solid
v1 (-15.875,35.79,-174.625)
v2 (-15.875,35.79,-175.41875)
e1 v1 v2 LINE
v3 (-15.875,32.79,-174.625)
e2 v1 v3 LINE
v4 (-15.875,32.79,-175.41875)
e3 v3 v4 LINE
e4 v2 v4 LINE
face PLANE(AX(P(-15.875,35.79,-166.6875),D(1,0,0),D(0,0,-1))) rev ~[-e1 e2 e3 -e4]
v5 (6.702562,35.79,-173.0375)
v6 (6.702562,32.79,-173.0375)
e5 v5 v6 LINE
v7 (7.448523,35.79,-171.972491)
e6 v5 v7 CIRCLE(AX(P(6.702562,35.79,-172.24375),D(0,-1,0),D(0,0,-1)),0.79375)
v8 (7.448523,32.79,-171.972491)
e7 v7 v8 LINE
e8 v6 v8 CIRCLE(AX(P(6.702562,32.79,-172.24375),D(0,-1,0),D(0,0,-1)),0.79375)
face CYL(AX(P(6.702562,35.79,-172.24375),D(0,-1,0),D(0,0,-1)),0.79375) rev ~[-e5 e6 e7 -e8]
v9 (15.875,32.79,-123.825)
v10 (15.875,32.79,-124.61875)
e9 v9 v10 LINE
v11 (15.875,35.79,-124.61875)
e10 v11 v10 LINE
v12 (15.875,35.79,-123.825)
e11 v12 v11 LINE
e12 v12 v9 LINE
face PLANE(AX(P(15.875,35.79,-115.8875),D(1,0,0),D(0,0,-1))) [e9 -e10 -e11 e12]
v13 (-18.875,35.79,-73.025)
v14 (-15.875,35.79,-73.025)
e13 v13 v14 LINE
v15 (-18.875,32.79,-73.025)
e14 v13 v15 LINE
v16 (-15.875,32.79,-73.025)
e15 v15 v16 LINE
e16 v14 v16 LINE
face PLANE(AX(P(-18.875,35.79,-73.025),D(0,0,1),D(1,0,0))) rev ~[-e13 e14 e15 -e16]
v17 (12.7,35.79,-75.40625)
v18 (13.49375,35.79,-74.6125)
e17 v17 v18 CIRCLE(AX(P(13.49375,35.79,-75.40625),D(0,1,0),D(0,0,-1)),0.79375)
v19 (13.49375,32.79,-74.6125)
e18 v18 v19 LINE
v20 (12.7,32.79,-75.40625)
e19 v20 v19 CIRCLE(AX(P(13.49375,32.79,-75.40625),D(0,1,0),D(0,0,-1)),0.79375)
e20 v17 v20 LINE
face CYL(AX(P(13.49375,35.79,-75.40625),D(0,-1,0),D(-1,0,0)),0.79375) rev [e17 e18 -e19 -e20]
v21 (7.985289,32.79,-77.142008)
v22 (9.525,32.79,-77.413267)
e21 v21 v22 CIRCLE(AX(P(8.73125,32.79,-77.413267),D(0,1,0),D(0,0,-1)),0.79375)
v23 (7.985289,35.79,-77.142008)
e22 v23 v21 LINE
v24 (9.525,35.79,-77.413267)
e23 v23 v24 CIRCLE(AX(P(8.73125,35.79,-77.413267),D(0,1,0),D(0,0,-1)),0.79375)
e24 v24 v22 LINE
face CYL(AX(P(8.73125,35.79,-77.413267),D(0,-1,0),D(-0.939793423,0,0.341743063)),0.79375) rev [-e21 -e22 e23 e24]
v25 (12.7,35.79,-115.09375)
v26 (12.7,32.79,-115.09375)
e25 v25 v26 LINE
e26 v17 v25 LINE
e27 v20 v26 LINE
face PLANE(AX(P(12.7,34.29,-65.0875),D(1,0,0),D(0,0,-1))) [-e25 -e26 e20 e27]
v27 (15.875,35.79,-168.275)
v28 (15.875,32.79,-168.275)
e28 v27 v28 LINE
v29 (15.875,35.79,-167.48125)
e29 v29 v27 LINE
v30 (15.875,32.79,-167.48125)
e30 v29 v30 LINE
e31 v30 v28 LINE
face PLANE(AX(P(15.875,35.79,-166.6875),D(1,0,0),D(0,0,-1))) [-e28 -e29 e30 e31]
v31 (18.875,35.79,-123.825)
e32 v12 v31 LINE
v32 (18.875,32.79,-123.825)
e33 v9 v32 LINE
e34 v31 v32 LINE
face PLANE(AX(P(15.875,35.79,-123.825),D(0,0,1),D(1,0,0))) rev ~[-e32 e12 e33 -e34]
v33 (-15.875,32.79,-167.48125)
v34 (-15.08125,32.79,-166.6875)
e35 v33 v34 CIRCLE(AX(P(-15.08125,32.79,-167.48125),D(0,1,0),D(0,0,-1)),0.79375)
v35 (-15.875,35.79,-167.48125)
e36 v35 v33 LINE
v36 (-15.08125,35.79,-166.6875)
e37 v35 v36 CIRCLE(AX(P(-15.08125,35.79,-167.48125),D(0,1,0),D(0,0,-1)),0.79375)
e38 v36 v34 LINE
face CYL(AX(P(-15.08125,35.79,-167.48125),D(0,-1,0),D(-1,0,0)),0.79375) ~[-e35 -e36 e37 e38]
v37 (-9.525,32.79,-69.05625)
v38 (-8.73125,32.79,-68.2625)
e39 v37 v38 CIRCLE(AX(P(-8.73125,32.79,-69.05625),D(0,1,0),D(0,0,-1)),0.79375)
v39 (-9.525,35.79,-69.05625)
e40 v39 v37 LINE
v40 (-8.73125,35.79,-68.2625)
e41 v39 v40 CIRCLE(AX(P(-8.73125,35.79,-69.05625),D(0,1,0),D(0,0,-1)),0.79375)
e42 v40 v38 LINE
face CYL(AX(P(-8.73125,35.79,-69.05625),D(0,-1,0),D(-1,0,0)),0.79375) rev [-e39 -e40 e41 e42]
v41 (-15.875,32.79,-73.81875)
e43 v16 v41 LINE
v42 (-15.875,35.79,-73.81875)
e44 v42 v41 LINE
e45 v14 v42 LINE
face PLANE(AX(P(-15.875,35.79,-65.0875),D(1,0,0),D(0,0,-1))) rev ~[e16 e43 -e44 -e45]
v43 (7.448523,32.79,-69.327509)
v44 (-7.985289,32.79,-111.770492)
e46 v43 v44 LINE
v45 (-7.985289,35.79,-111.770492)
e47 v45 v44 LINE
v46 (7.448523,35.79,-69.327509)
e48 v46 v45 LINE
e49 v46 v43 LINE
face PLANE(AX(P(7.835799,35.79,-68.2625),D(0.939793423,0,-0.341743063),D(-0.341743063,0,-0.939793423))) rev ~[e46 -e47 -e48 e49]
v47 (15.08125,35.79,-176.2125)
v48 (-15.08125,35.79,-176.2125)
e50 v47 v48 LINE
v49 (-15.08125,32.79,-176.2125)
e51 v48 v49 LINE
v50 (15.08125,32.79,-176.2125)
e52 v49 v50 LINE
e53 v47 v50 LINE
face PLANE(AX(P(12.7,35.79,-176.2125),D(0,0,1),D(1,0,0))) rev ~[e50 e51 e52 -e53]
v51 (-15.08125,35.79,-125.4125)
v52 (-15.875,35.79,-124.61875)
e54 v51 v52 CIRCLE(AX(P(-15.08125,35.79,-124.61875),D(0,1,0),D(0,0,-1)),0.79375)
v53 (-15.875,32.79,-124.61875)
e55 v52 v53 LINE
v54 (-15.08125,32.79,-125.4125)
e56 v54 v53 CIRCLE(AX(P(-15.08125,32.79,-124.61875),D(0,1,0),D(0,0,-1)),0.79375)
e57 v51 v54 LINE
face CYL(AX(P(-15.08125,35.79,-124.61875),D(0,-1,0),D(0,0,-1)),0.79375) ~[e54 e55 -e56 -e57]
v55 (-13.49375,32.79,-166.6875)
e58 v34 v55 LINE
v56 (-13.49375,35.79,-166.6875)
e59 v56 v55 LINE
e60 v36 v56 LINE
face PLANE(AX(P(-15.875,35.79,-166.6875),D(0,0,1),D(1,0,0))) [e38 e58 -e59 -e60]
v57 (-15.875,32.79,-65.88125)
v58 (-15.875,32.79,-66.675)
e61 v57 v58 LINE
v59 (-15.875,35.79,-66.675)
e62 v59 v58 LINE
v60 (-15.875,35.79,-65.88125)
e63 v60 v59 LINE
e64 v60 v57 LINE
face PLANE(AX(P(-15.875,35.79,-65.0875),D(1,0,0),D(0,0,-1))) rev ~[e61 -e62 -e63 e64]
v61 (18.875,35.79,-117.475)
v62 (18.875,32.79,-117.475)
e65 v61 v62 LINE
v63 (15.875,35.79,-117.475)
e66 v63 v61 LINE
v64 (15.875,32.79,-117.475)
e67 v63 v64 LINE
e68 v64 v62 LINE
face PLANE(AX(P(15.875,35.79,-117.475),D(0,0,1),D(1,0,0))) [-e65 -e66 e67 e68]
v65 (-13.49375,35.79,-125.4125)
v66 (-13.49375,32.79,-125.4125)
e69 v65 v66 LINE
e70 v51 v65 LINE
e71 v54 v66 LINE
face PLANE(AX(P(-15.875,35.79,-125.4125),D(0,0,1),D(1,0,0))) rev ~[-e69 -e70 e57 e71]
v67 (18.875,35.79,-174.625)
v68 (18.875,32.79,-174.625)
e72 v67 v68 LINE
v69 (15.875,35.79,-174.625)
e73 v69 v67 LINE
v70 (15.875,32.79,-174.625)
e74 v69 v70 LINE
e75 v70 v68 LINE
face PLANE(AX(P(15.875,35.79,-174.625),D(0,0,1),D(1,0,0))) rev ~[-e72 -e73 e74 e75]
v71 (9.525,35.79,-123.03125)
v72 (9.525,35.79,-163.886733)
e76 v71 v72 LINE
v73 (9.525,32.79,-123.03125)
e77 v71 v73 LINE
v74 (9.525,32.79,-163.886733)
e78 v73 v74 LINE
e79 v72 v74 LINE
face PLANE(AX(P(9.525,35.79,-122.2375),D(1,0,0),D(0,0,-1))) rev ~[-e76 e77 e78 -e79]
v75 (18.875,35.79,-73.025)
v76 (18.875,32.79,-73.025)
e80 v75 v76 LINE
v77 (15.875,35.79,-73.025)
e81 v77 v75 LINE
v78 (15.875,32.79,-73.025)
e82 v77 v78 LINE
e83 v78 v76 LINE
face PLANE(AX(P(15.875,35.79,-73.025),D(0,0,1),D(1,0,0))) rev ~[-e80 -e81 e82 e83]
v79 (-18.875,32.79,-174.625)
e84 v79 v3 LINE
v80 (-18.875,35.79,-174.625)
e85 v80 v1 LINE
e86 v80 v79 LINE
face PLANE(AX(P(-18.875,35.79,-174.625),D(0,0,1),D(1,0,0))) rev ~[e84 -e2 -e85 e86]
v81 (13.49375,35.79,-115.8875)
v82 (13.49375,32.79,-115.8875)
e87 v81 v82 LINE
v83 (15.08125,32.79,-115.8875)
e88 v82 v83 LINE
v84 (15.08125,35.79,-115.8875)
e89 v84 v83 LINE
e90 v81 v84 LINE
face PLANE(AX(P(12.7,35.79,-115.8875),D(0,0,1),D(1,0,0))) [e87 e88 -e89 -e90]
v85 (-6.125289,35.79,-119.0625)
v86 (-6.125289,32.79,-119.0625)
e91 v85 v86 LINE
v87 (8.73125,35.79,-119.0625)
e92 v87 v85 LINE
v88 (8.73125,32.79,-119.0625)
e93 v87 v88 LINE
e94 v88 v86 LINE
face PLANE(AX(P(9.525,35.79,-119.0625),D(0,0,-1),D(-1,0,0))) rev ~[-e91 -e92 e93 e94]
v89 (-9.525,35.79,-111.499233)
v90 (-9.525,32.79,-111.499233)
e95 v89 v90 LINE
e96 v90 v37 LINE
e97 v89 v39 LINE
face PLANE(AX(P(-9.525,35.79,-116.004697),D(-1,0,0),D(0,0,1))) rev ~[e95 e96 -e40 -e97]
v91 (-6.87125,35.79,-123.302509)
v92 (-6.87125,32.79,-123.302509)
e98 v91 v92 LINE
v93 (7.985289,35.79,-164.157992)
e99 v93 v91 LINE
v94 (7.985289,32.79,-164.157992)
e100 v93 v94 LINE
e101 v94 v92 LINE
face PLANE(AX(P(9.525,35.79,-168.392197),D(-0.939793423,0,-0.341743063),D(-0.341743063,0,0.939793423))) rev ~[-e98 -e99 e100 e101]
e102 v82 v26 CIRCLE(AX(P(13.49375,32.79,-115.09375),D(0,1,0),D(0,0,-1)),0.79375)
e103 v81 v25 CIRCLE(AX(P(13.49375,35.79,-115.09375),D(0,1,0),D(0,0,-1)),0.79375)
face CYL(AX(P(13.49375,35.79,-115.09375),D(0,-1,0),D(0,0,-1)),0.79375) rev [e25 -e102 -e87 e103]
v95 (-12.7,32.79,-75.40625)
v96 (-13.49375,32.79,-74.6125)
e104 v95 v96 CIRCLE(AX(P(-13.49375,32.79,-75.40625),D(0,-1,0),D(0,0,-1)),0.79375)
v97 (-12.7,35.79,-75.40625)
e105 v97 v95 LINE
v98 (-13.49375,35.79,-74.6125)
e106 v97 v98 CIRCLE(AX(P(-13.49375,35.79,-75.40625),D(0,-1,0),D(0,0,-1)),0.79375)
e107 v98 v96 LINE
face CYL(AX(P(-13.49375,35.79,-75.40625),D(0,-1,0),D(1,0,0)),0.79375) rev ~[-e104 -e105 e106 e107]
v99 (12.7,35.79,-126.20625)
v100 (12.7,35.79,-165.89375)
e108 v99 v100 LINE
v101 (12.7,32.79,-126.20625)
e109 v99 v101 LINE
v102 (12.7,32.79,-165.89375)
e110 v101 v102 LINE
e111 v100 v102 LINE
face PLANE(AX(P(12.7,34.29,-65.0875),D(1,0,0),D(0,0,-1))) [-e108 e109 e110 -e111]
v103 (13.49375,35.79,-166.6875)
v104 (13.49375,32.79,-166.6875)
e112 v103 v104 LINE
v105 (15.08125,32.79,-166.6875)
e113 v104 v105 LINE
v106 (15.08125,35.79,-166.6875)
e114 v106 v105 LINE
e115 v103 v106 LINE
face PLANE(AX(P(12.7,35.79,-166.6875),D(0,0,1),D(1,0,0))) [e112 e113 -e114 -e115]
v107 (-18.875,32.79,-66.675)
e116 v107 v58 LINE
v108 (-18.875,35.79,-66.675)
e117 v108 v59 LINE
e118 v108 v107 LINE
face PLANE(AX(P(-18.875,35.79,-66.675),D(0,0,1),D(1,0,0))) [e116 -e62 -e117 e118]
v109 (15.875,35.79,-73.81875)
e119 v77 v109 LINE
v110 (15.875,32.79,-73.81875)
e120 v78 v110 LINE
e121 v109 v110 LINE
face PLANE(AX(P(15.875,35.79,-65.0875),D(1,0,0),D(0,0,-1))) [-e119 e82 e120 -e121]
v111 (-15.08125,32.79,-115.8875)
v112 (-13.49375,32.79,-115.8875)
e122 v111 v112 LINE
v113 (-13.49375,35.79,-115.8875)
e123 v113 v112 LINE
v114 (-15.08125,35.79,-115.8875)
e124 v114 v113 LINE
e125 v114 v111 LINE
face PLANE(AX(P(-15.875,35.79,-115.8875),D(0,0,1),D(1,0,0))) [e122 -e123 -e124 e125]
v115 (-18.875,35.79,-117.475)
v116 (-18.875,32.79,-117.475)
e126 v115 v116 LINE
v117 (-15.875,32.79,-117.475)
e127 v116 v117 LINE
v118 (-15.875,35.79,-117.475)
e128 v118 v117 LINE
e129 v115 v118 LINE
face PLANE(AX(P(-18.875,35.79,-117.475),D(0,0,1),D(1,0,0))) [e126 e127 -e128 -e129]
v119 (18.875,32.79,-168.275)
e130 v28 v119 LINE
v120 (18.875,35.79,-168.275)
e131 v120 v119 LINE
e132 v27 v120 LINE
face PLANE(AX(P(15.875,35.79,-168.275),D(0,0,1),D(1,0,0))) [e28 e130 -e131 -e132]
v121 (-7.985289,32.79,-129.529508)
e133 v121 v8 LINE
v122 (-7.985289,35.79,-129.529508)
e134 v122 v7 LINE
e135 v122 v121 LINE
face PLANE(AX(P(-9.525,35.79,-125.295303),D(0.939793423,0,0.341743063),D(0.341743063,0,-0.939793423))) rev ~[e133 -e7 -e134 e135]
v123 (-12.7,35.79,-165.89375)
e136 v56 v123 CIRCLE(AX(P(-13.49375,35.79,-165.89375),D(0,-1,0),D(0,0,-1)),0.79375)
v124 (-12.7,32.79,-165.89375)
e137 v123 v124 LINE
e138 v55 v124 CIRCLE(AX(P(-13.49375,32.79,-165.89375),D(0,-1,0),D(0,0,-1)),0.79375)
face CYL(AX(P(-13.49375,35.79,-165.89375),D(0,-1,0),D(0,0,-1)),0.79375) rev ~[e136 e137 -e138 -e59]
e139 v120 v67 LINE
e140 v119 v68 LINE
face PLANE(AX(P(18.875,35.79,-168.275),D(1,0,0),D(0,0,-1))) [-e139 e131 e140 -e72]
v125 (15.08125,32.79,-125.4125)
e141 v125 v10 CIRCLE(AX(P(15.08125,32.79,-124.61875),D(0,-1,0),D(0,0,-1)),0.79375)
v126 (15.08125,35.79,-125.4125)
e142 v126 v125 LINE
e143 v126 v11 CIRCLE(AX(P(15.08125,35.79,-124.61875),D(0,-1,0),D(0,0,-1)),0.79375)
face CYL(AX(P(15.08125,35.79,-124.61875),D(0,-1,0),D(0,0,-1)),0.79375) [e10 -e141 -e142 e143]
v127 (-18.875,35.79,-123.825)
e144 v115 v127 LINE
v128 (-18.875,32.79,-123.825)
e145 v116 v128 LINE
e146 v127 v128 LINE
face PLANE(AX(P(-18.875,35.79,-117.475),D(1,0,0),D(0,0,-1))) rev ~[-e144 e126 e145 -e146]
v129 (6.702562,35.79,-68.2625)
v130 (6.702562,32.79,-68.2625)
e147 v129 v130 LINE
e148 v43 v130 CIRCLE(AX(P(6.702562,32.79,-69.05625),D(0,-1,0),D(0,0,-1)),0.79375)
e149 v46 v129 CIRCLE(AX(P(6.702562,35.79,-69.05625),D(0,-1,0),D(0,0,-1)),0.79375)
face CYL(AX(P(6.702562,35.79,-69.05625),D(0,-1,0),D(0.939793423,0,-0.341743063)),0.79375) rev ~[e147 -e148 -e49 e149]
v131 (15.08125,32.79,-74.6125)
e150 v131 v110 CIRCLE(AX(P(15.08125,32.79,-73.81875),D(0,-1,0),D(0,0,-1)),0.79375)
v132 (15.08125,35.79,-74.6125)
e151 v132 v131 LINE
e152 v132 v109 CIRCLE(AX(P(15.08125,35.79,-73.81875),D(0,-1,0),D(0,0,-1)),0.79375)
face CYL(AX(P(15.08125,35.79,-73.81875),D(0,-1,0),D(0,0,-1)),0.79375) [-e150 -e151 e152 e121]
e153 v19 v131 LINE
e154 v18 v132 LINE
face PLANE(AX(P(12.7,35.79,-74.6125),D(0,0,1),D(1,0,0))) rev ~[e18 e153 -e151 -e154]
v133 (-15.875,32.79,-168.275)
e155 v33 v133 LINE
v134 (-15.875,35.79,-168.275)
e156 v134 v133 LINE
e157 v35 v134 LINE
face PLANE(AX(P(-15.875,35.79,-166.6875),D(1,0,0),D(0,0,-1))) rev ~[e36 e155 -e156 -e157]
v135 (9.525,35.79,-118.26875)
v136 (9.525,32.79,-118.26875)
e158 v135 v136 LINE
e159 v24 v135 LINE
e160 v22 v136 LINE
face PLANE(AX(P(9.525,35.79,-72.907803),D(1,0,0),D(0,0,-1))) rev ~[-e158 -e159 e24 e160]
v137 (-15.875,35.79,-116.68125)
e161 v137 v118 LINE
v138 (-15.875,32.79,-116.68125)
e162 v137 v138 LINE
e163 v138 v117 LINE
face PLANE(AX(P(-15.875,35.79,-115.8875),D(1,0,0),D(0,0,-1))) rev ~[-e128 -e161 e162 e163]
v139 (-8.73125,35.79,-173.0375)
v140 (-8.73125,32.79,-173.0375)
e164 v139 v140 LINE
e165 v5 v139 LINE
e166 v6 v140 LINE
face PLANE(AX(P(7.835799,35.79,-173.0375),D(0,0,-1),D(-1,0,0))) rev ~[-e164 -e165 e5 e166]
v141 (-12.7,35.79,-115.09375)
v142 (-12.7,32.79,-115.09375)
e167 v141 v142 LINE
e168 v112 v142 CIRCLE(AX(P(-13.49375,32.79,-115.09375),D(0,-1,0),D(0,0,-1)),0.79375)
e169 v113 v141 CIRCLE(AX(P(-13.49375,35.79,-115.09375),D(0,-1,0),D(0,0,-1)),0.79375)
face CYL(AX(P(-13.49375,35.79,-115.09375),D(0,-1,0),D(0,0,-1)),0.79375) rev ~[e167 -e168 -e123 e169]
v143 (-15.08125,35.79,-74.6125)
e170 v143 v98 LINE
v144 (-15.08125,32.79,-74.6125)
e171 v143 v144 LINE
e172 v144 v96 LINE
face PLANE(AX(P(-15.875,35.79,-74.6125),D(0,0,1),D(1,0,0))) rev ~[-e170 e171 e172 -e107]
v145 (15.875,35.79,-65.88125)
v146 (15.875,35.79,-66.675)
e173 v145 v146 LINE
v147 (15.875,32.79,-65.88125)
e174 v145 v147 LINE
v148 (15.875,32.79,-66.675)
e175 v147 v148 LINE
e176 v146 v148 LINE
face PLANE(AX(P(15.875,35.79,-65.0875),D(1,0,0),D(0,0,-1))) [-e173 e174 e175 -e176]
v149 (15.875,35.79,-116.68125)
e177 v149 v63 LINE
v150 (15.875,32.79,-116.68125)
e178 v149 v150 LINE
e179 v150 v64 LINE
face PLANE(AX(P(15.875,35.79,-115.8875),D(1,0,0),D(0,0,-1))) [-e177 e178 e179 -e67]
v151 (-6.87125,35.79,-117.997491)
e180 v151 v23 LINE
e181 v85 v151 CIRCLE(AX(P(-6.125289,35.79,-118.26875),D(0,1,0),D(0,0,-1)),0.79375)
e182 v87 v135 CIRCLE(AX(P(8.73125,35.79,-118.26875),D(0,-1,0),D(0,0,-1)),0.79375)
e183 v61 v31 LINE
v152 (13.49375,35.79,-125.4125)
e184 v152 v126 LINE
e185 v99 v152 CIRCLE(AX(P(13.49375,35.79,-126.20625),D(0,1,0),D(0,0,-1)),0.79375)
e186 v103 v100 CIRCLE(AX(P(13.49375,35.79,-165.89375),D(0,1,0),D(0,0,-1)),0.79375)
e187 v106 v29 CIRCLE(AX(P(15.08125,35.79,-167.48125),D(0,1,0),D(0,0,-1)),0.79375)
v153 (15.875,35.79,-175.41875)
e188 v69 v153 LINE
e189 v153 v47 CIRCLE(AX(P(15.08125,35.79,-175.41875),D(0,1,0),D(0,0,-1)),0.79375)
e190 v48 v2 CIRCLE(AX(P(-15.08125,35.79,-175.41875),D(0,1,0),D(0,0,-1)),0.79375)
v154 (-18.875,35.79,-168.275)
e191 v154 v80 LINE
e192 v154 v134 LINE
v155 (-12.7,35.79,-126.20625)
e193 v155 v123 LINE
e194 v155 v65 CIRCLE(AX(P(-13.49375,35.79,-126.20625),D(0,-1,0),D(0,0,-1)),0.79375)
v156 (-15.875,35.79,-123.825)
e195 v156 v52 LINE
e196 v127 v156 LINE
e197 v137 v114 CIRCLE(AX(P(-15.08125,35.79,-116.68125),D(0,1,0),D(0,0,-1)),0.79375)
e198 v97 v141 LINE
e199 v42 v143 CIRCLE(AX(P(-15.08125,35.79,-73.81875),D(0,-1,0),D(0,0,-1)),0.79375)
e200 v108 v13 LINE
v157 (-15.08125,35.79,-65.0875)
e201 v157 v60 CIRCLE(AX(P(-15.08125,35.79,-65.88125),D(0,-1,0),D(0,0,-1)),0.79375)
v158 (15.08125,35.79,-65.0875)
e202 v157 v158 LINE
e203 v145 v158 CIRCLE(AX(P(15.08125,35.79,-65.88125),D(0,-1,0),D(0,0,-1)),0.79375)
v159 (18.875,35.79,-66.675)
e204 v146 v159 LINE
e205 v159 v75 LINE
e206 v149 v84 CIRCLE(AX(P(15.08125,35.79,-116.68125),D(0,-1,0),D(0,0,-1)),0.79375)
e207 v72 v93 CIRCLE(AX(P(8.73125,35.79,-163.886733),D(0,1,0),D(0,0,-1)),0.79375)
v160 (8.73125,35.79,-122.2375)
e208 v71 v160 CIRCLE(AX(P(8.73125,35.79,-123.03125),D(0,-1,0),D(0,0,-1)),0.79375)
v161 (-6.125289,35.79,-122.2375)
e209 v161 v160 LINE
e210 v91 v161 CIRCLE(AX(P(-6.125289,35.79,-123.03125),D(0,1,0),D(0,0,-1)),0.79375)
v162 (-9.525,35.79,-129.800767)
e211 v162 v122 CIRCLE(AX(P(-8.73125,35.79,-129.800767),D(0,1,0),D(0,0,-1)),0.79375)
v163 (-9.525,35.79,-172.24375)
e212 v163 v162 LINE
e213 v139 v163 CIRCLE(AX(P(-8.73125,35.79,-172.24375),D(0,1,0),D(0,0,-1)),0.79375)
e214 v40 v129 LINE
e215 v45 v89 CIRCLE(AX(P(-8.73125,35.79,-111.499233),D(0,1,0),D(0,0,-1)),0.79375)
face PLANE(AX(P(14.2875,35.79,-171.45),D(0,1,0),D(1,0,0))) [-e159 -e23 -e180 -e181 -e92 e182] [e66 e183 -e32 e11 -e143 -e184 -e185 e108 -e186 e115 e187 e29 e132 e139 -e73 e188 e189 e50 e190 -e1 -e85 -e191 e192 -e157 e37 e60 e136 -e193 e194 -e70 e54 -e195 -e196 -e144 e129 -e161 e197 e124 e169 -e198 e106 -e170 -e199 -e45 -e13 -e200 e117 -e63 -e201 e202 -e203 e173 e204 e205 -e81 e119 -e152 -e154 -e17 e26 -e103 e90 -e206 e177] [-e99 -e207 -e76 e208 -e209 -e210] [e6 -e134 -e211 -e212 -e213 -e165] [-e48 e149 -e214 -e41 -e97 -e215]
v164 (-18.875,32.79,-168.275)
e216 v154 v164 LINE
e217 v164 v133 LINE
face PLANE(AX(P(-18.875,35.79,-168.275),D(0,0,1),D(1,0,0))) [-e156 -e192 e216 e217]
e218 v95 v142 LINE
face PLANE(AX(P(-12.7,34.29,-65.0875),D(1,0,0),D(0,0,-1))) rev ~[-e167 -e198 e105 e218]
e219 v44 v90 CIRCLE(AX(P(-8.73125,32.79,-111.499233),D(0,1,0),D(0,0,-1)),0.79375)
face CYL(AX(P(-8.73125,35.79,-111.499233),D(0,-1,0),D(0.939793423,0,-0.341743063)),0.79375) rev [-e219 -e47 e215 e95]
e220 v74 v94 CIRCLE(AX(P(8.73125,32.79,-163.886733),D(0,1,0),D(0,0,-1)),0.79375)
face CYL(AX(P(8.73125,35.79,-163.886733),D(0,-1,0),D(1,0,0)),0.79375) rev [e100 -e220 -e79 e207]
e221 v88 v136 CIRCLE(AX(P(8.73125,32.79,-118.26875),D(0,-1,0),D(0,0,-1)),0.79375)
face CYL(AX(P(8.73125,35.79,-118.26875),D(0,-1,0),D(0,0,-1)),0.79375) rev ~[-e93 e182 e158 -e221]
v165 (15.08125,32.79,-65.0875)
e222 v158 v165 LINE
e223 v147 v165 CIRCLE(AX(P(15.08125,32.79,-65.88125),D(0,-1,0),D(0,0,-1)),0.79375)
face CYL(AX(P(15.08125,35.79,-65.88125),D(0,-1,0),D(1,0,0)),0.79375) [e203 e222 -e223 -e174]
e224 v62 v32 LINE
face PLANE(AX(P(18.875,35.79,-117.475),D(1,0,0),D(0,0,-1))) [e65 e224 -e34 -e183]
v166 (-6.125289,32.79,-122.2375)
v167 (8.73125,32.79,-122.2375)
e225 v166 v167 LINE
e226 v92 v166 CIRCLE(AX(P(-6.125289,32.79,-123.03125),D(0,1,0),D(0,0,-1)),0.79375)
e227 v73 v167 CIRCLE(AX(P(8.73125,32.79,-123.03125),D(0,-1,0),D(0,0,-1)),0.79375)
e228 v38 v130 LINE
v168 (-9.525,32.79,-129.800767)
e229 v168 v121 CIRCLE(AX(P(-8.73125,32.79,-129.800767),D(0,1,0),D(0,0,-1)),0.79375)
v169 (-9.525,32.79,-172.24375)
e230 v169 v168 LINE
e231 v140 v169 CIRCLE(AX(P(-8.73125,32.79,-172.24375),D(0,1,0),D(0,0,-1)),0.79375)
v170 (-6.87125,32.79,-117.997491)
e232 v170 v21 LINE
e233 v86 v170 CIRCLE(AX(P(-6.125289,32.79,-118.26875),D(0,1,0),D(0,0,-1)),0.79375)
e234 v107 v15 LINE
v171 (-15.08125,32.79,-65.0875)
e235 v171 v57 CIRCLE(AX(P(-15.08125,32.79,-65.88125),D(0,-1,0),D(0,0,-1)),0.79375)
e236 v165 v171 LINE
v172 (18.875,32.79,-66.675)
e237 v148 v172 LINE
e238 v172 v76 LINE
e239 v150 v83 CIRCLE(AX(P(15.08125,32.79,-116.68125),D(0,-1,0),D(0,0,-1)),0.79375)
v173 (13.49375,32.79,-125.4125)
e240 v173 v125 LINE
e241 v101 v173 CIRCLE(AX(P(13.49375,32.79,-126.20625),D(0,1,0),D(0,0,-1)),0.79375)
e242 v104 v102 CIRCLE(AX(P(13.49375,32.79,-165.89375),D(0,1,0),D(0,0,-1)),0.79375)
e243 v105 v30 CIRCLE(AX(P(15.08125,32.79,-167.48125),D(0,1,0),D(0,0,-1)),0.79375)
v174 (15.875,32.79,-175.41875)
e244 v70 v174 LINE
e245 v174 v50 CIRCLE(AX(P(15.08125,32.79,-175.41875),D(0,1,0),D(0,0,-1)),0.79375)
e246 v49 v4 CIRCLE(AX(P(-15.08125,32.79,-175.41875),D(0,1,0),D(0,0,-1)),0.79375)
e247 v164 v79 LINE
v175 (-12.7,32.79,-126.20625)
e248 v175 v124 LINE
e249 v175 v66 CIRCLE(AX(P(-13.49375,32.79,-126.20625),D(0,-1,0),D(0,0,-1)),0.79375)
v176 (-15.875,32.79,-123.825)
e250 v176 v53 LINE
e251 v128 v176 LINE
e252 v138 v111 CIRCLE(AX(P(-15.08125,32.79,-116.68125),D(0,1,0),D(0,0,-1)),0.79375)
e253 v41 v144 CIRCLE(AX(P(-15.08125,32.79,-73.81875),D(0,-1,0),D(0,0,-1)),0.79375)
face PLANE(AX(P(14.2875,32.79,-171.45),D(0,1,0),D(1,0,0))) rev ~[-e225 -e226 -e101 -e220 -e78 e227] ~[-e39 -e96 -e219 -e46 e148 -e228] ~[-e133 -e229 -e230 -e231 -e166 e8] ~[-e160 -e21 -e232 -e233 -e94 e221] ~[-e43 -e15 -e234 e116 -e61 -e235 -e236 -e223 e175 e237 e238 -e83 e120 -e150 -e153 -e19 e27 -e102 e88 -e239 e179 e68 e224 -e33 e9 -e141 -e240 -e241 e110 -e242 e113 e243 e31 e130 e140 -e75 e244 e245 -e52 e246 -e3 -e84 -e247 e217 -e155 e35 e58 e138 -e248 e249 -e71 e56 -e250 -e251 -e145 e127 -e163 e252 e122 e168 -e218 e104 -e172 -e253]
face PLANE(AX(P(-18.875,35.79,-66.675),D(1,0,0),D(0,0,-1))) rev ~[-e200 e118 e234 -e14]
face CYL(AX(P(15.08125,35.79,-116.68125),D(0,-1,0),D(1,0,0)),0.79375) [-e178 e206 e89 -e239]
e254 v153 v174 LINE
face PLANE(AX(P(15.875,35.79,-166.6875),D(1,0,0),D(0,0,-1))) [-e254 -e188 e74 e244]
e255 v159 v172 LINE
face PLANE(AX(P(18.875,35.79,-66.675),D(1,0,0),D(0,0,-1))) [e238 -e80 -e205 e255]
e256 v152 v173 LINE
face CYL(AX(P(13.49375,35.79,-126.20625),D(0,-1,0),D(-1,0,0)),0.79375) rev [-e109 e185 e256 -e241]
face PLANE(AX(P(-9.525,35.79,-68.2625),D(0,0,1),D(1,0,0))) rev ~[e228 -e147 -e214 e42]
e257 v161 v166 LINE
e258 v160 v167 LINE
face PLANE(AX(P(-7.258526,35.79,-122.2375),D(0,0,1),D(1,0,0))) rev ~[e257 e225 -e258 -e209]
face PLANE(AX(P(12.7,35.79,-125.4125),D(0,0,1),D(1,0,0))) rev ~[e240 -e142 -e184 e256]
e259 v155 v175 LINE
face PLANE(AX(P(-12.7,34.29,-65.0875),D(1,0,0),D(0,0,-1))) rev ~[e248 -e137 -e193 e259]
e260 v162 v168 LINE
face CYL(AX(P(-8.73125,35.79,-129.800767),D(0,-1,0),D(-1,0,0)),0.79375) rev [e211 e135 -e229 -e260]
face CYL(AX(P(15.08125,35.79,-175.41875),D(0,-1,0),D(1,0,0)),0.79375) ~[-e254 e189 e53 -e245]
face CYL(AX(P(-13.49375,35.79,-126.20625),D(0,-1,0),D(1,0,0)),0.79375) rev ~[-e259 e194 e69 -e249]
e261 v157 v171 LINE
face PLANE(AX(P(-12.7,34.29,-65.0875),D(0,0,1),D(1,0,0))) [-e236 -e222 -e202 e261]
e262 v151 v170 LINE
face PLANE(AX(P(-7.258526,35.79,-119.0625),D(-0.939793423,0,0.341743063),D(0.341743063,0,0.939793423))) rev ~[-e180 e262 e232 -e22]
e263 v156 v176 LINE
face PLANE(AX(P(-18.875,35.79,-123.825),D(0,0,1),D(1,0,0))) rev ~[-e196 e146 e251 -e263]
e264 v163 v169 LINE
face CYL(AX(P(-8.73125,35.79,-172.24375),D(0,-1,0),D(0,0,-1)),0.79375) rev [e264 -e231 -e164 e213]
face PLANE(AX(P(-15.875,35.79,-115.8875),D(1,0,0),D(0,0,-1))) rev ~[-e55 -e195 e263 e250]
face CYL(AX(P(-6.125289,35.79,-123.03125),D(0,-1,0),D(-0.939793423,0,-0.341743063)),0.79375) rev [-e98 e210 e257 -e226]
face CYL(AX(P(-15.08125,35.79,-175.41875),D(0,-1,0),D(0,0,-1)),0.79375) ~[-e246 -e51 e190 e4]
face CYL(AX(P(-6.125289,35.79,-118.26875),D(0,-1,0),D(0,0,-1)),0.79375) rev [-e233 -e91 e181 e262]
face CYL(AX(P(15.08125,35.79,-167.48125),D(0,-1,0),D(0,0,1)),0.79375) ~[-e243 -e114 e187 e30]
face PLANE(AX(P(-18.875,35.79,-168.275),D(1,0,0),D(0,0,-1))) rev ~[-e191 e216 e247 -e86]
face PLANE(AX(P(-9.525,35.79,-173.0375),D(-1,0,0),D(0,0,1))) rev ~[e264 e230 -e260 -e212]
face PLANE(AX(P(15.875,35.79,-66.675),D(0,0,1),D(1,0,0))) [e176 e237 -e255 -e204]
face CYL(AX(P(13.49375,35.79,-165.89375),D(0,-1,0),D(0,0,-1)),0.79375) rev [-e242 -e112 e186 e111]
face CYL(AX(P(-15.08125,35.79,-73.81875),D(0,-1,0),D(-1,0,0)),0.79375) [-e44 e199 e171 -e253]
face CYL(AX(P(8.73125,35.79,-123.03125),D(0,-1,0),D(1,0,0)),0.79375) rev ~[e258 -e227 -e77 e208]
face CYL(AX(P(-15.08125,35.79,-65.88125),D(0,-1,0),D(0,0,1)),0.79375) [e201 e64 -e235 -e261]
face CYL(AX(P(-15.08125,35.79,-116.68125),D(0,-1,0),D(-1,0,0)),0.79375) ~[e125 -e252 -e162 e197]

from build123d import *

# Parameters (mm, degrees)
SKETCH1_W           = 25.4
SKETCH1_H           = 111.125
BOSS_EXTRUDE1_DEPTH = 1.5
SKETCH2_W           = 3.175
SKETCH2_H           = 9.525
BOSS_EXTRUDE2_DEPTH = 3
CUT_EXTRUDE1_DEPTH  = 3
FILLET1_R           = 0.79375
SKETCH5_W           = 3
SKETCH5_H           = 6.35
BOSS_EXTRUDE3_DEPTH = 3


with BuildPart() as part:
    # Sketch1 → Boss-Extrude1 (new, symmetric)
    with BuildSketch(Plane(origin=(0, 34.29, 0), x_dir=(1, 0, 0), z_dir=(0, 1, 0))):
        with Locations((0, 120.65)):
            Rectangle(SKETCH1_W, SKETCH1_H)
    extrude(amount=BOSS_EXTRUDE1_DEPTH, both=True)

    # Sketch2 → Boss-Extrude2 (add)
    with BuildSketch(Plane(origin=(0, 35.79, 0), x_dir=(1, 0, 0), z_dir=(0, 1, 0))):
        with Locations((14.2875, 171.45)):
            Rectangle(SKETCH2_W, SKETCH2_H)
        with Locations((-14.2875, 171.45)):
            Rectangle(SKETCH2_W, SKETCH2_H)
        with Locations((14.2875, 120.65)):
            Rectangle(SKETCH2_W, SKETCH2_H)
        with Locations((-14.2875, 120.65)):
            Rectangle(SKETCH2_W, SKETCH2_H)
        with Locations((14.2875, 69.85)):
            Rectangle(SKETCH2_W, SKETCH2_H)
        with Locations((-14.2875, 69.85)):
            Rectangle(SKETCH2_W, SKETCH2_H)
    extrude(amount=-BOSS_EXTRUDE2_DEPTH)

    # Sketch4 → Cut-Extrude1 (cut)
    with BuildSketch(Plane(origin=(0, 35.79, 0), x_dir=(1, 0, 0), z_dir=(0, 1, 0))):
        Polygon((7.83579899, 173.0375), (-9.525, 173.0375), (-9.525, 125.295302777), align=None)
        Polygon((9.525, 122.2375), (9.525, 168.392197223), (-7.258526263, 122.2375), align=None)
        Polygon((9.525, 119.0625), (-7.258526263, 119.0625), (9.525, 72.907802777), align=None)
        Polygon((7.83579899, 68.2625), (-9.525, 116.004697223), (-9.525, 68.2625), align=None)
    extrude(amount=-CUT_EXTRUDE1_DEPTH, mode=Mode.SUBTRACT)

    # Fillet1
    fillet1_edges = [part.edges().sort_by_distance(p)[0] for p in [
        (-7.258526263, 34.29, -122.2375),
        (9.525, 34.29, -168.392197223),
        (9.525, 34.29, -122.2375),
        (9.525, 34.29, -72.907802777),
        (-7.258526263, 34.29, -119.0625),
        (9.525, 34.29, -119.0625),
        (7.83579899, 34.29, -68.2625),
        (-9.525, 34.29, -68.2625),
        (-9.525, 34.29, -116.004697223),
        (-9.525, 34.29, -125.295302777),
        (-9.525, 34.29, -173.0375),
        (7.83579899, 34.29, -173.0375),
        (15.875, 34.29, -65.0875),
        (15.875, 34.29, -74.6125),
        (12.7, 34.29, -74.6125),
        (-12.7, 34.29, -115.8875),
        (-12.7, 34.29, -125.4125),
        (-15.875, 34.29, -125.4125),
        (-15.875, 34.29, -115.8875),
        (15.875, 34.29, -115.8875),
        (15.875, 34.29, -125.4125),
        (12.7, 34.29, -125.4125),
        (12.7, 34.29, -115.8875),
        (-12.7, 34.29, -166.6875),
        (-15.875, 34.29, -176.2125),
        (-15.875, 34.29, -166.6875),
        (-12.7, 34.29, -74.6125),
        (-15.875, 34.29, -74.6125),
        (-15.875, 34.29, -65.0875),
        (15.875, 34.29, -166.6875),
        (15.875, 34.29, -176.2125),
        (12.7, 34.29, -166.6875),
    ]]
    fillet(fillet1_edges, radius=FILLET1_R)

    # Sketch5 → Boss-Extrude3 (add)
    with BuildSketch(Plane(origin=(0, 35.79, 0), x_dir=(1, 0, 0), z_dir=(0, 1, 0))):
        with Locations((17.375, 171.45)):
            Rectangle(SKETCH5_W, SKETCH5_H)
        with Locations((-17.375, 171.45)):
            Rectangle(SKETCH5_W, SKETCH5_H)
        with Locations((17.375, 120.65)):
            Rectangle(SKETCH5_W, SKETCH5_H)
        with Locations((-17.375, 120.65)):
            Rectangle(SKETCH5_W, SKETCH5_H)
        with Locations((17.375, 69.85)):
            Rectangle(SKETCH5_W, SKETCH5_H)
        with Locations((-17.375, 69.85)):
            Rectangle(SKETCH5_W, SKETCH5_H)
    extrude(amount=-BOSS_EXTRUDE3_DEPTH)


solid = part.part
